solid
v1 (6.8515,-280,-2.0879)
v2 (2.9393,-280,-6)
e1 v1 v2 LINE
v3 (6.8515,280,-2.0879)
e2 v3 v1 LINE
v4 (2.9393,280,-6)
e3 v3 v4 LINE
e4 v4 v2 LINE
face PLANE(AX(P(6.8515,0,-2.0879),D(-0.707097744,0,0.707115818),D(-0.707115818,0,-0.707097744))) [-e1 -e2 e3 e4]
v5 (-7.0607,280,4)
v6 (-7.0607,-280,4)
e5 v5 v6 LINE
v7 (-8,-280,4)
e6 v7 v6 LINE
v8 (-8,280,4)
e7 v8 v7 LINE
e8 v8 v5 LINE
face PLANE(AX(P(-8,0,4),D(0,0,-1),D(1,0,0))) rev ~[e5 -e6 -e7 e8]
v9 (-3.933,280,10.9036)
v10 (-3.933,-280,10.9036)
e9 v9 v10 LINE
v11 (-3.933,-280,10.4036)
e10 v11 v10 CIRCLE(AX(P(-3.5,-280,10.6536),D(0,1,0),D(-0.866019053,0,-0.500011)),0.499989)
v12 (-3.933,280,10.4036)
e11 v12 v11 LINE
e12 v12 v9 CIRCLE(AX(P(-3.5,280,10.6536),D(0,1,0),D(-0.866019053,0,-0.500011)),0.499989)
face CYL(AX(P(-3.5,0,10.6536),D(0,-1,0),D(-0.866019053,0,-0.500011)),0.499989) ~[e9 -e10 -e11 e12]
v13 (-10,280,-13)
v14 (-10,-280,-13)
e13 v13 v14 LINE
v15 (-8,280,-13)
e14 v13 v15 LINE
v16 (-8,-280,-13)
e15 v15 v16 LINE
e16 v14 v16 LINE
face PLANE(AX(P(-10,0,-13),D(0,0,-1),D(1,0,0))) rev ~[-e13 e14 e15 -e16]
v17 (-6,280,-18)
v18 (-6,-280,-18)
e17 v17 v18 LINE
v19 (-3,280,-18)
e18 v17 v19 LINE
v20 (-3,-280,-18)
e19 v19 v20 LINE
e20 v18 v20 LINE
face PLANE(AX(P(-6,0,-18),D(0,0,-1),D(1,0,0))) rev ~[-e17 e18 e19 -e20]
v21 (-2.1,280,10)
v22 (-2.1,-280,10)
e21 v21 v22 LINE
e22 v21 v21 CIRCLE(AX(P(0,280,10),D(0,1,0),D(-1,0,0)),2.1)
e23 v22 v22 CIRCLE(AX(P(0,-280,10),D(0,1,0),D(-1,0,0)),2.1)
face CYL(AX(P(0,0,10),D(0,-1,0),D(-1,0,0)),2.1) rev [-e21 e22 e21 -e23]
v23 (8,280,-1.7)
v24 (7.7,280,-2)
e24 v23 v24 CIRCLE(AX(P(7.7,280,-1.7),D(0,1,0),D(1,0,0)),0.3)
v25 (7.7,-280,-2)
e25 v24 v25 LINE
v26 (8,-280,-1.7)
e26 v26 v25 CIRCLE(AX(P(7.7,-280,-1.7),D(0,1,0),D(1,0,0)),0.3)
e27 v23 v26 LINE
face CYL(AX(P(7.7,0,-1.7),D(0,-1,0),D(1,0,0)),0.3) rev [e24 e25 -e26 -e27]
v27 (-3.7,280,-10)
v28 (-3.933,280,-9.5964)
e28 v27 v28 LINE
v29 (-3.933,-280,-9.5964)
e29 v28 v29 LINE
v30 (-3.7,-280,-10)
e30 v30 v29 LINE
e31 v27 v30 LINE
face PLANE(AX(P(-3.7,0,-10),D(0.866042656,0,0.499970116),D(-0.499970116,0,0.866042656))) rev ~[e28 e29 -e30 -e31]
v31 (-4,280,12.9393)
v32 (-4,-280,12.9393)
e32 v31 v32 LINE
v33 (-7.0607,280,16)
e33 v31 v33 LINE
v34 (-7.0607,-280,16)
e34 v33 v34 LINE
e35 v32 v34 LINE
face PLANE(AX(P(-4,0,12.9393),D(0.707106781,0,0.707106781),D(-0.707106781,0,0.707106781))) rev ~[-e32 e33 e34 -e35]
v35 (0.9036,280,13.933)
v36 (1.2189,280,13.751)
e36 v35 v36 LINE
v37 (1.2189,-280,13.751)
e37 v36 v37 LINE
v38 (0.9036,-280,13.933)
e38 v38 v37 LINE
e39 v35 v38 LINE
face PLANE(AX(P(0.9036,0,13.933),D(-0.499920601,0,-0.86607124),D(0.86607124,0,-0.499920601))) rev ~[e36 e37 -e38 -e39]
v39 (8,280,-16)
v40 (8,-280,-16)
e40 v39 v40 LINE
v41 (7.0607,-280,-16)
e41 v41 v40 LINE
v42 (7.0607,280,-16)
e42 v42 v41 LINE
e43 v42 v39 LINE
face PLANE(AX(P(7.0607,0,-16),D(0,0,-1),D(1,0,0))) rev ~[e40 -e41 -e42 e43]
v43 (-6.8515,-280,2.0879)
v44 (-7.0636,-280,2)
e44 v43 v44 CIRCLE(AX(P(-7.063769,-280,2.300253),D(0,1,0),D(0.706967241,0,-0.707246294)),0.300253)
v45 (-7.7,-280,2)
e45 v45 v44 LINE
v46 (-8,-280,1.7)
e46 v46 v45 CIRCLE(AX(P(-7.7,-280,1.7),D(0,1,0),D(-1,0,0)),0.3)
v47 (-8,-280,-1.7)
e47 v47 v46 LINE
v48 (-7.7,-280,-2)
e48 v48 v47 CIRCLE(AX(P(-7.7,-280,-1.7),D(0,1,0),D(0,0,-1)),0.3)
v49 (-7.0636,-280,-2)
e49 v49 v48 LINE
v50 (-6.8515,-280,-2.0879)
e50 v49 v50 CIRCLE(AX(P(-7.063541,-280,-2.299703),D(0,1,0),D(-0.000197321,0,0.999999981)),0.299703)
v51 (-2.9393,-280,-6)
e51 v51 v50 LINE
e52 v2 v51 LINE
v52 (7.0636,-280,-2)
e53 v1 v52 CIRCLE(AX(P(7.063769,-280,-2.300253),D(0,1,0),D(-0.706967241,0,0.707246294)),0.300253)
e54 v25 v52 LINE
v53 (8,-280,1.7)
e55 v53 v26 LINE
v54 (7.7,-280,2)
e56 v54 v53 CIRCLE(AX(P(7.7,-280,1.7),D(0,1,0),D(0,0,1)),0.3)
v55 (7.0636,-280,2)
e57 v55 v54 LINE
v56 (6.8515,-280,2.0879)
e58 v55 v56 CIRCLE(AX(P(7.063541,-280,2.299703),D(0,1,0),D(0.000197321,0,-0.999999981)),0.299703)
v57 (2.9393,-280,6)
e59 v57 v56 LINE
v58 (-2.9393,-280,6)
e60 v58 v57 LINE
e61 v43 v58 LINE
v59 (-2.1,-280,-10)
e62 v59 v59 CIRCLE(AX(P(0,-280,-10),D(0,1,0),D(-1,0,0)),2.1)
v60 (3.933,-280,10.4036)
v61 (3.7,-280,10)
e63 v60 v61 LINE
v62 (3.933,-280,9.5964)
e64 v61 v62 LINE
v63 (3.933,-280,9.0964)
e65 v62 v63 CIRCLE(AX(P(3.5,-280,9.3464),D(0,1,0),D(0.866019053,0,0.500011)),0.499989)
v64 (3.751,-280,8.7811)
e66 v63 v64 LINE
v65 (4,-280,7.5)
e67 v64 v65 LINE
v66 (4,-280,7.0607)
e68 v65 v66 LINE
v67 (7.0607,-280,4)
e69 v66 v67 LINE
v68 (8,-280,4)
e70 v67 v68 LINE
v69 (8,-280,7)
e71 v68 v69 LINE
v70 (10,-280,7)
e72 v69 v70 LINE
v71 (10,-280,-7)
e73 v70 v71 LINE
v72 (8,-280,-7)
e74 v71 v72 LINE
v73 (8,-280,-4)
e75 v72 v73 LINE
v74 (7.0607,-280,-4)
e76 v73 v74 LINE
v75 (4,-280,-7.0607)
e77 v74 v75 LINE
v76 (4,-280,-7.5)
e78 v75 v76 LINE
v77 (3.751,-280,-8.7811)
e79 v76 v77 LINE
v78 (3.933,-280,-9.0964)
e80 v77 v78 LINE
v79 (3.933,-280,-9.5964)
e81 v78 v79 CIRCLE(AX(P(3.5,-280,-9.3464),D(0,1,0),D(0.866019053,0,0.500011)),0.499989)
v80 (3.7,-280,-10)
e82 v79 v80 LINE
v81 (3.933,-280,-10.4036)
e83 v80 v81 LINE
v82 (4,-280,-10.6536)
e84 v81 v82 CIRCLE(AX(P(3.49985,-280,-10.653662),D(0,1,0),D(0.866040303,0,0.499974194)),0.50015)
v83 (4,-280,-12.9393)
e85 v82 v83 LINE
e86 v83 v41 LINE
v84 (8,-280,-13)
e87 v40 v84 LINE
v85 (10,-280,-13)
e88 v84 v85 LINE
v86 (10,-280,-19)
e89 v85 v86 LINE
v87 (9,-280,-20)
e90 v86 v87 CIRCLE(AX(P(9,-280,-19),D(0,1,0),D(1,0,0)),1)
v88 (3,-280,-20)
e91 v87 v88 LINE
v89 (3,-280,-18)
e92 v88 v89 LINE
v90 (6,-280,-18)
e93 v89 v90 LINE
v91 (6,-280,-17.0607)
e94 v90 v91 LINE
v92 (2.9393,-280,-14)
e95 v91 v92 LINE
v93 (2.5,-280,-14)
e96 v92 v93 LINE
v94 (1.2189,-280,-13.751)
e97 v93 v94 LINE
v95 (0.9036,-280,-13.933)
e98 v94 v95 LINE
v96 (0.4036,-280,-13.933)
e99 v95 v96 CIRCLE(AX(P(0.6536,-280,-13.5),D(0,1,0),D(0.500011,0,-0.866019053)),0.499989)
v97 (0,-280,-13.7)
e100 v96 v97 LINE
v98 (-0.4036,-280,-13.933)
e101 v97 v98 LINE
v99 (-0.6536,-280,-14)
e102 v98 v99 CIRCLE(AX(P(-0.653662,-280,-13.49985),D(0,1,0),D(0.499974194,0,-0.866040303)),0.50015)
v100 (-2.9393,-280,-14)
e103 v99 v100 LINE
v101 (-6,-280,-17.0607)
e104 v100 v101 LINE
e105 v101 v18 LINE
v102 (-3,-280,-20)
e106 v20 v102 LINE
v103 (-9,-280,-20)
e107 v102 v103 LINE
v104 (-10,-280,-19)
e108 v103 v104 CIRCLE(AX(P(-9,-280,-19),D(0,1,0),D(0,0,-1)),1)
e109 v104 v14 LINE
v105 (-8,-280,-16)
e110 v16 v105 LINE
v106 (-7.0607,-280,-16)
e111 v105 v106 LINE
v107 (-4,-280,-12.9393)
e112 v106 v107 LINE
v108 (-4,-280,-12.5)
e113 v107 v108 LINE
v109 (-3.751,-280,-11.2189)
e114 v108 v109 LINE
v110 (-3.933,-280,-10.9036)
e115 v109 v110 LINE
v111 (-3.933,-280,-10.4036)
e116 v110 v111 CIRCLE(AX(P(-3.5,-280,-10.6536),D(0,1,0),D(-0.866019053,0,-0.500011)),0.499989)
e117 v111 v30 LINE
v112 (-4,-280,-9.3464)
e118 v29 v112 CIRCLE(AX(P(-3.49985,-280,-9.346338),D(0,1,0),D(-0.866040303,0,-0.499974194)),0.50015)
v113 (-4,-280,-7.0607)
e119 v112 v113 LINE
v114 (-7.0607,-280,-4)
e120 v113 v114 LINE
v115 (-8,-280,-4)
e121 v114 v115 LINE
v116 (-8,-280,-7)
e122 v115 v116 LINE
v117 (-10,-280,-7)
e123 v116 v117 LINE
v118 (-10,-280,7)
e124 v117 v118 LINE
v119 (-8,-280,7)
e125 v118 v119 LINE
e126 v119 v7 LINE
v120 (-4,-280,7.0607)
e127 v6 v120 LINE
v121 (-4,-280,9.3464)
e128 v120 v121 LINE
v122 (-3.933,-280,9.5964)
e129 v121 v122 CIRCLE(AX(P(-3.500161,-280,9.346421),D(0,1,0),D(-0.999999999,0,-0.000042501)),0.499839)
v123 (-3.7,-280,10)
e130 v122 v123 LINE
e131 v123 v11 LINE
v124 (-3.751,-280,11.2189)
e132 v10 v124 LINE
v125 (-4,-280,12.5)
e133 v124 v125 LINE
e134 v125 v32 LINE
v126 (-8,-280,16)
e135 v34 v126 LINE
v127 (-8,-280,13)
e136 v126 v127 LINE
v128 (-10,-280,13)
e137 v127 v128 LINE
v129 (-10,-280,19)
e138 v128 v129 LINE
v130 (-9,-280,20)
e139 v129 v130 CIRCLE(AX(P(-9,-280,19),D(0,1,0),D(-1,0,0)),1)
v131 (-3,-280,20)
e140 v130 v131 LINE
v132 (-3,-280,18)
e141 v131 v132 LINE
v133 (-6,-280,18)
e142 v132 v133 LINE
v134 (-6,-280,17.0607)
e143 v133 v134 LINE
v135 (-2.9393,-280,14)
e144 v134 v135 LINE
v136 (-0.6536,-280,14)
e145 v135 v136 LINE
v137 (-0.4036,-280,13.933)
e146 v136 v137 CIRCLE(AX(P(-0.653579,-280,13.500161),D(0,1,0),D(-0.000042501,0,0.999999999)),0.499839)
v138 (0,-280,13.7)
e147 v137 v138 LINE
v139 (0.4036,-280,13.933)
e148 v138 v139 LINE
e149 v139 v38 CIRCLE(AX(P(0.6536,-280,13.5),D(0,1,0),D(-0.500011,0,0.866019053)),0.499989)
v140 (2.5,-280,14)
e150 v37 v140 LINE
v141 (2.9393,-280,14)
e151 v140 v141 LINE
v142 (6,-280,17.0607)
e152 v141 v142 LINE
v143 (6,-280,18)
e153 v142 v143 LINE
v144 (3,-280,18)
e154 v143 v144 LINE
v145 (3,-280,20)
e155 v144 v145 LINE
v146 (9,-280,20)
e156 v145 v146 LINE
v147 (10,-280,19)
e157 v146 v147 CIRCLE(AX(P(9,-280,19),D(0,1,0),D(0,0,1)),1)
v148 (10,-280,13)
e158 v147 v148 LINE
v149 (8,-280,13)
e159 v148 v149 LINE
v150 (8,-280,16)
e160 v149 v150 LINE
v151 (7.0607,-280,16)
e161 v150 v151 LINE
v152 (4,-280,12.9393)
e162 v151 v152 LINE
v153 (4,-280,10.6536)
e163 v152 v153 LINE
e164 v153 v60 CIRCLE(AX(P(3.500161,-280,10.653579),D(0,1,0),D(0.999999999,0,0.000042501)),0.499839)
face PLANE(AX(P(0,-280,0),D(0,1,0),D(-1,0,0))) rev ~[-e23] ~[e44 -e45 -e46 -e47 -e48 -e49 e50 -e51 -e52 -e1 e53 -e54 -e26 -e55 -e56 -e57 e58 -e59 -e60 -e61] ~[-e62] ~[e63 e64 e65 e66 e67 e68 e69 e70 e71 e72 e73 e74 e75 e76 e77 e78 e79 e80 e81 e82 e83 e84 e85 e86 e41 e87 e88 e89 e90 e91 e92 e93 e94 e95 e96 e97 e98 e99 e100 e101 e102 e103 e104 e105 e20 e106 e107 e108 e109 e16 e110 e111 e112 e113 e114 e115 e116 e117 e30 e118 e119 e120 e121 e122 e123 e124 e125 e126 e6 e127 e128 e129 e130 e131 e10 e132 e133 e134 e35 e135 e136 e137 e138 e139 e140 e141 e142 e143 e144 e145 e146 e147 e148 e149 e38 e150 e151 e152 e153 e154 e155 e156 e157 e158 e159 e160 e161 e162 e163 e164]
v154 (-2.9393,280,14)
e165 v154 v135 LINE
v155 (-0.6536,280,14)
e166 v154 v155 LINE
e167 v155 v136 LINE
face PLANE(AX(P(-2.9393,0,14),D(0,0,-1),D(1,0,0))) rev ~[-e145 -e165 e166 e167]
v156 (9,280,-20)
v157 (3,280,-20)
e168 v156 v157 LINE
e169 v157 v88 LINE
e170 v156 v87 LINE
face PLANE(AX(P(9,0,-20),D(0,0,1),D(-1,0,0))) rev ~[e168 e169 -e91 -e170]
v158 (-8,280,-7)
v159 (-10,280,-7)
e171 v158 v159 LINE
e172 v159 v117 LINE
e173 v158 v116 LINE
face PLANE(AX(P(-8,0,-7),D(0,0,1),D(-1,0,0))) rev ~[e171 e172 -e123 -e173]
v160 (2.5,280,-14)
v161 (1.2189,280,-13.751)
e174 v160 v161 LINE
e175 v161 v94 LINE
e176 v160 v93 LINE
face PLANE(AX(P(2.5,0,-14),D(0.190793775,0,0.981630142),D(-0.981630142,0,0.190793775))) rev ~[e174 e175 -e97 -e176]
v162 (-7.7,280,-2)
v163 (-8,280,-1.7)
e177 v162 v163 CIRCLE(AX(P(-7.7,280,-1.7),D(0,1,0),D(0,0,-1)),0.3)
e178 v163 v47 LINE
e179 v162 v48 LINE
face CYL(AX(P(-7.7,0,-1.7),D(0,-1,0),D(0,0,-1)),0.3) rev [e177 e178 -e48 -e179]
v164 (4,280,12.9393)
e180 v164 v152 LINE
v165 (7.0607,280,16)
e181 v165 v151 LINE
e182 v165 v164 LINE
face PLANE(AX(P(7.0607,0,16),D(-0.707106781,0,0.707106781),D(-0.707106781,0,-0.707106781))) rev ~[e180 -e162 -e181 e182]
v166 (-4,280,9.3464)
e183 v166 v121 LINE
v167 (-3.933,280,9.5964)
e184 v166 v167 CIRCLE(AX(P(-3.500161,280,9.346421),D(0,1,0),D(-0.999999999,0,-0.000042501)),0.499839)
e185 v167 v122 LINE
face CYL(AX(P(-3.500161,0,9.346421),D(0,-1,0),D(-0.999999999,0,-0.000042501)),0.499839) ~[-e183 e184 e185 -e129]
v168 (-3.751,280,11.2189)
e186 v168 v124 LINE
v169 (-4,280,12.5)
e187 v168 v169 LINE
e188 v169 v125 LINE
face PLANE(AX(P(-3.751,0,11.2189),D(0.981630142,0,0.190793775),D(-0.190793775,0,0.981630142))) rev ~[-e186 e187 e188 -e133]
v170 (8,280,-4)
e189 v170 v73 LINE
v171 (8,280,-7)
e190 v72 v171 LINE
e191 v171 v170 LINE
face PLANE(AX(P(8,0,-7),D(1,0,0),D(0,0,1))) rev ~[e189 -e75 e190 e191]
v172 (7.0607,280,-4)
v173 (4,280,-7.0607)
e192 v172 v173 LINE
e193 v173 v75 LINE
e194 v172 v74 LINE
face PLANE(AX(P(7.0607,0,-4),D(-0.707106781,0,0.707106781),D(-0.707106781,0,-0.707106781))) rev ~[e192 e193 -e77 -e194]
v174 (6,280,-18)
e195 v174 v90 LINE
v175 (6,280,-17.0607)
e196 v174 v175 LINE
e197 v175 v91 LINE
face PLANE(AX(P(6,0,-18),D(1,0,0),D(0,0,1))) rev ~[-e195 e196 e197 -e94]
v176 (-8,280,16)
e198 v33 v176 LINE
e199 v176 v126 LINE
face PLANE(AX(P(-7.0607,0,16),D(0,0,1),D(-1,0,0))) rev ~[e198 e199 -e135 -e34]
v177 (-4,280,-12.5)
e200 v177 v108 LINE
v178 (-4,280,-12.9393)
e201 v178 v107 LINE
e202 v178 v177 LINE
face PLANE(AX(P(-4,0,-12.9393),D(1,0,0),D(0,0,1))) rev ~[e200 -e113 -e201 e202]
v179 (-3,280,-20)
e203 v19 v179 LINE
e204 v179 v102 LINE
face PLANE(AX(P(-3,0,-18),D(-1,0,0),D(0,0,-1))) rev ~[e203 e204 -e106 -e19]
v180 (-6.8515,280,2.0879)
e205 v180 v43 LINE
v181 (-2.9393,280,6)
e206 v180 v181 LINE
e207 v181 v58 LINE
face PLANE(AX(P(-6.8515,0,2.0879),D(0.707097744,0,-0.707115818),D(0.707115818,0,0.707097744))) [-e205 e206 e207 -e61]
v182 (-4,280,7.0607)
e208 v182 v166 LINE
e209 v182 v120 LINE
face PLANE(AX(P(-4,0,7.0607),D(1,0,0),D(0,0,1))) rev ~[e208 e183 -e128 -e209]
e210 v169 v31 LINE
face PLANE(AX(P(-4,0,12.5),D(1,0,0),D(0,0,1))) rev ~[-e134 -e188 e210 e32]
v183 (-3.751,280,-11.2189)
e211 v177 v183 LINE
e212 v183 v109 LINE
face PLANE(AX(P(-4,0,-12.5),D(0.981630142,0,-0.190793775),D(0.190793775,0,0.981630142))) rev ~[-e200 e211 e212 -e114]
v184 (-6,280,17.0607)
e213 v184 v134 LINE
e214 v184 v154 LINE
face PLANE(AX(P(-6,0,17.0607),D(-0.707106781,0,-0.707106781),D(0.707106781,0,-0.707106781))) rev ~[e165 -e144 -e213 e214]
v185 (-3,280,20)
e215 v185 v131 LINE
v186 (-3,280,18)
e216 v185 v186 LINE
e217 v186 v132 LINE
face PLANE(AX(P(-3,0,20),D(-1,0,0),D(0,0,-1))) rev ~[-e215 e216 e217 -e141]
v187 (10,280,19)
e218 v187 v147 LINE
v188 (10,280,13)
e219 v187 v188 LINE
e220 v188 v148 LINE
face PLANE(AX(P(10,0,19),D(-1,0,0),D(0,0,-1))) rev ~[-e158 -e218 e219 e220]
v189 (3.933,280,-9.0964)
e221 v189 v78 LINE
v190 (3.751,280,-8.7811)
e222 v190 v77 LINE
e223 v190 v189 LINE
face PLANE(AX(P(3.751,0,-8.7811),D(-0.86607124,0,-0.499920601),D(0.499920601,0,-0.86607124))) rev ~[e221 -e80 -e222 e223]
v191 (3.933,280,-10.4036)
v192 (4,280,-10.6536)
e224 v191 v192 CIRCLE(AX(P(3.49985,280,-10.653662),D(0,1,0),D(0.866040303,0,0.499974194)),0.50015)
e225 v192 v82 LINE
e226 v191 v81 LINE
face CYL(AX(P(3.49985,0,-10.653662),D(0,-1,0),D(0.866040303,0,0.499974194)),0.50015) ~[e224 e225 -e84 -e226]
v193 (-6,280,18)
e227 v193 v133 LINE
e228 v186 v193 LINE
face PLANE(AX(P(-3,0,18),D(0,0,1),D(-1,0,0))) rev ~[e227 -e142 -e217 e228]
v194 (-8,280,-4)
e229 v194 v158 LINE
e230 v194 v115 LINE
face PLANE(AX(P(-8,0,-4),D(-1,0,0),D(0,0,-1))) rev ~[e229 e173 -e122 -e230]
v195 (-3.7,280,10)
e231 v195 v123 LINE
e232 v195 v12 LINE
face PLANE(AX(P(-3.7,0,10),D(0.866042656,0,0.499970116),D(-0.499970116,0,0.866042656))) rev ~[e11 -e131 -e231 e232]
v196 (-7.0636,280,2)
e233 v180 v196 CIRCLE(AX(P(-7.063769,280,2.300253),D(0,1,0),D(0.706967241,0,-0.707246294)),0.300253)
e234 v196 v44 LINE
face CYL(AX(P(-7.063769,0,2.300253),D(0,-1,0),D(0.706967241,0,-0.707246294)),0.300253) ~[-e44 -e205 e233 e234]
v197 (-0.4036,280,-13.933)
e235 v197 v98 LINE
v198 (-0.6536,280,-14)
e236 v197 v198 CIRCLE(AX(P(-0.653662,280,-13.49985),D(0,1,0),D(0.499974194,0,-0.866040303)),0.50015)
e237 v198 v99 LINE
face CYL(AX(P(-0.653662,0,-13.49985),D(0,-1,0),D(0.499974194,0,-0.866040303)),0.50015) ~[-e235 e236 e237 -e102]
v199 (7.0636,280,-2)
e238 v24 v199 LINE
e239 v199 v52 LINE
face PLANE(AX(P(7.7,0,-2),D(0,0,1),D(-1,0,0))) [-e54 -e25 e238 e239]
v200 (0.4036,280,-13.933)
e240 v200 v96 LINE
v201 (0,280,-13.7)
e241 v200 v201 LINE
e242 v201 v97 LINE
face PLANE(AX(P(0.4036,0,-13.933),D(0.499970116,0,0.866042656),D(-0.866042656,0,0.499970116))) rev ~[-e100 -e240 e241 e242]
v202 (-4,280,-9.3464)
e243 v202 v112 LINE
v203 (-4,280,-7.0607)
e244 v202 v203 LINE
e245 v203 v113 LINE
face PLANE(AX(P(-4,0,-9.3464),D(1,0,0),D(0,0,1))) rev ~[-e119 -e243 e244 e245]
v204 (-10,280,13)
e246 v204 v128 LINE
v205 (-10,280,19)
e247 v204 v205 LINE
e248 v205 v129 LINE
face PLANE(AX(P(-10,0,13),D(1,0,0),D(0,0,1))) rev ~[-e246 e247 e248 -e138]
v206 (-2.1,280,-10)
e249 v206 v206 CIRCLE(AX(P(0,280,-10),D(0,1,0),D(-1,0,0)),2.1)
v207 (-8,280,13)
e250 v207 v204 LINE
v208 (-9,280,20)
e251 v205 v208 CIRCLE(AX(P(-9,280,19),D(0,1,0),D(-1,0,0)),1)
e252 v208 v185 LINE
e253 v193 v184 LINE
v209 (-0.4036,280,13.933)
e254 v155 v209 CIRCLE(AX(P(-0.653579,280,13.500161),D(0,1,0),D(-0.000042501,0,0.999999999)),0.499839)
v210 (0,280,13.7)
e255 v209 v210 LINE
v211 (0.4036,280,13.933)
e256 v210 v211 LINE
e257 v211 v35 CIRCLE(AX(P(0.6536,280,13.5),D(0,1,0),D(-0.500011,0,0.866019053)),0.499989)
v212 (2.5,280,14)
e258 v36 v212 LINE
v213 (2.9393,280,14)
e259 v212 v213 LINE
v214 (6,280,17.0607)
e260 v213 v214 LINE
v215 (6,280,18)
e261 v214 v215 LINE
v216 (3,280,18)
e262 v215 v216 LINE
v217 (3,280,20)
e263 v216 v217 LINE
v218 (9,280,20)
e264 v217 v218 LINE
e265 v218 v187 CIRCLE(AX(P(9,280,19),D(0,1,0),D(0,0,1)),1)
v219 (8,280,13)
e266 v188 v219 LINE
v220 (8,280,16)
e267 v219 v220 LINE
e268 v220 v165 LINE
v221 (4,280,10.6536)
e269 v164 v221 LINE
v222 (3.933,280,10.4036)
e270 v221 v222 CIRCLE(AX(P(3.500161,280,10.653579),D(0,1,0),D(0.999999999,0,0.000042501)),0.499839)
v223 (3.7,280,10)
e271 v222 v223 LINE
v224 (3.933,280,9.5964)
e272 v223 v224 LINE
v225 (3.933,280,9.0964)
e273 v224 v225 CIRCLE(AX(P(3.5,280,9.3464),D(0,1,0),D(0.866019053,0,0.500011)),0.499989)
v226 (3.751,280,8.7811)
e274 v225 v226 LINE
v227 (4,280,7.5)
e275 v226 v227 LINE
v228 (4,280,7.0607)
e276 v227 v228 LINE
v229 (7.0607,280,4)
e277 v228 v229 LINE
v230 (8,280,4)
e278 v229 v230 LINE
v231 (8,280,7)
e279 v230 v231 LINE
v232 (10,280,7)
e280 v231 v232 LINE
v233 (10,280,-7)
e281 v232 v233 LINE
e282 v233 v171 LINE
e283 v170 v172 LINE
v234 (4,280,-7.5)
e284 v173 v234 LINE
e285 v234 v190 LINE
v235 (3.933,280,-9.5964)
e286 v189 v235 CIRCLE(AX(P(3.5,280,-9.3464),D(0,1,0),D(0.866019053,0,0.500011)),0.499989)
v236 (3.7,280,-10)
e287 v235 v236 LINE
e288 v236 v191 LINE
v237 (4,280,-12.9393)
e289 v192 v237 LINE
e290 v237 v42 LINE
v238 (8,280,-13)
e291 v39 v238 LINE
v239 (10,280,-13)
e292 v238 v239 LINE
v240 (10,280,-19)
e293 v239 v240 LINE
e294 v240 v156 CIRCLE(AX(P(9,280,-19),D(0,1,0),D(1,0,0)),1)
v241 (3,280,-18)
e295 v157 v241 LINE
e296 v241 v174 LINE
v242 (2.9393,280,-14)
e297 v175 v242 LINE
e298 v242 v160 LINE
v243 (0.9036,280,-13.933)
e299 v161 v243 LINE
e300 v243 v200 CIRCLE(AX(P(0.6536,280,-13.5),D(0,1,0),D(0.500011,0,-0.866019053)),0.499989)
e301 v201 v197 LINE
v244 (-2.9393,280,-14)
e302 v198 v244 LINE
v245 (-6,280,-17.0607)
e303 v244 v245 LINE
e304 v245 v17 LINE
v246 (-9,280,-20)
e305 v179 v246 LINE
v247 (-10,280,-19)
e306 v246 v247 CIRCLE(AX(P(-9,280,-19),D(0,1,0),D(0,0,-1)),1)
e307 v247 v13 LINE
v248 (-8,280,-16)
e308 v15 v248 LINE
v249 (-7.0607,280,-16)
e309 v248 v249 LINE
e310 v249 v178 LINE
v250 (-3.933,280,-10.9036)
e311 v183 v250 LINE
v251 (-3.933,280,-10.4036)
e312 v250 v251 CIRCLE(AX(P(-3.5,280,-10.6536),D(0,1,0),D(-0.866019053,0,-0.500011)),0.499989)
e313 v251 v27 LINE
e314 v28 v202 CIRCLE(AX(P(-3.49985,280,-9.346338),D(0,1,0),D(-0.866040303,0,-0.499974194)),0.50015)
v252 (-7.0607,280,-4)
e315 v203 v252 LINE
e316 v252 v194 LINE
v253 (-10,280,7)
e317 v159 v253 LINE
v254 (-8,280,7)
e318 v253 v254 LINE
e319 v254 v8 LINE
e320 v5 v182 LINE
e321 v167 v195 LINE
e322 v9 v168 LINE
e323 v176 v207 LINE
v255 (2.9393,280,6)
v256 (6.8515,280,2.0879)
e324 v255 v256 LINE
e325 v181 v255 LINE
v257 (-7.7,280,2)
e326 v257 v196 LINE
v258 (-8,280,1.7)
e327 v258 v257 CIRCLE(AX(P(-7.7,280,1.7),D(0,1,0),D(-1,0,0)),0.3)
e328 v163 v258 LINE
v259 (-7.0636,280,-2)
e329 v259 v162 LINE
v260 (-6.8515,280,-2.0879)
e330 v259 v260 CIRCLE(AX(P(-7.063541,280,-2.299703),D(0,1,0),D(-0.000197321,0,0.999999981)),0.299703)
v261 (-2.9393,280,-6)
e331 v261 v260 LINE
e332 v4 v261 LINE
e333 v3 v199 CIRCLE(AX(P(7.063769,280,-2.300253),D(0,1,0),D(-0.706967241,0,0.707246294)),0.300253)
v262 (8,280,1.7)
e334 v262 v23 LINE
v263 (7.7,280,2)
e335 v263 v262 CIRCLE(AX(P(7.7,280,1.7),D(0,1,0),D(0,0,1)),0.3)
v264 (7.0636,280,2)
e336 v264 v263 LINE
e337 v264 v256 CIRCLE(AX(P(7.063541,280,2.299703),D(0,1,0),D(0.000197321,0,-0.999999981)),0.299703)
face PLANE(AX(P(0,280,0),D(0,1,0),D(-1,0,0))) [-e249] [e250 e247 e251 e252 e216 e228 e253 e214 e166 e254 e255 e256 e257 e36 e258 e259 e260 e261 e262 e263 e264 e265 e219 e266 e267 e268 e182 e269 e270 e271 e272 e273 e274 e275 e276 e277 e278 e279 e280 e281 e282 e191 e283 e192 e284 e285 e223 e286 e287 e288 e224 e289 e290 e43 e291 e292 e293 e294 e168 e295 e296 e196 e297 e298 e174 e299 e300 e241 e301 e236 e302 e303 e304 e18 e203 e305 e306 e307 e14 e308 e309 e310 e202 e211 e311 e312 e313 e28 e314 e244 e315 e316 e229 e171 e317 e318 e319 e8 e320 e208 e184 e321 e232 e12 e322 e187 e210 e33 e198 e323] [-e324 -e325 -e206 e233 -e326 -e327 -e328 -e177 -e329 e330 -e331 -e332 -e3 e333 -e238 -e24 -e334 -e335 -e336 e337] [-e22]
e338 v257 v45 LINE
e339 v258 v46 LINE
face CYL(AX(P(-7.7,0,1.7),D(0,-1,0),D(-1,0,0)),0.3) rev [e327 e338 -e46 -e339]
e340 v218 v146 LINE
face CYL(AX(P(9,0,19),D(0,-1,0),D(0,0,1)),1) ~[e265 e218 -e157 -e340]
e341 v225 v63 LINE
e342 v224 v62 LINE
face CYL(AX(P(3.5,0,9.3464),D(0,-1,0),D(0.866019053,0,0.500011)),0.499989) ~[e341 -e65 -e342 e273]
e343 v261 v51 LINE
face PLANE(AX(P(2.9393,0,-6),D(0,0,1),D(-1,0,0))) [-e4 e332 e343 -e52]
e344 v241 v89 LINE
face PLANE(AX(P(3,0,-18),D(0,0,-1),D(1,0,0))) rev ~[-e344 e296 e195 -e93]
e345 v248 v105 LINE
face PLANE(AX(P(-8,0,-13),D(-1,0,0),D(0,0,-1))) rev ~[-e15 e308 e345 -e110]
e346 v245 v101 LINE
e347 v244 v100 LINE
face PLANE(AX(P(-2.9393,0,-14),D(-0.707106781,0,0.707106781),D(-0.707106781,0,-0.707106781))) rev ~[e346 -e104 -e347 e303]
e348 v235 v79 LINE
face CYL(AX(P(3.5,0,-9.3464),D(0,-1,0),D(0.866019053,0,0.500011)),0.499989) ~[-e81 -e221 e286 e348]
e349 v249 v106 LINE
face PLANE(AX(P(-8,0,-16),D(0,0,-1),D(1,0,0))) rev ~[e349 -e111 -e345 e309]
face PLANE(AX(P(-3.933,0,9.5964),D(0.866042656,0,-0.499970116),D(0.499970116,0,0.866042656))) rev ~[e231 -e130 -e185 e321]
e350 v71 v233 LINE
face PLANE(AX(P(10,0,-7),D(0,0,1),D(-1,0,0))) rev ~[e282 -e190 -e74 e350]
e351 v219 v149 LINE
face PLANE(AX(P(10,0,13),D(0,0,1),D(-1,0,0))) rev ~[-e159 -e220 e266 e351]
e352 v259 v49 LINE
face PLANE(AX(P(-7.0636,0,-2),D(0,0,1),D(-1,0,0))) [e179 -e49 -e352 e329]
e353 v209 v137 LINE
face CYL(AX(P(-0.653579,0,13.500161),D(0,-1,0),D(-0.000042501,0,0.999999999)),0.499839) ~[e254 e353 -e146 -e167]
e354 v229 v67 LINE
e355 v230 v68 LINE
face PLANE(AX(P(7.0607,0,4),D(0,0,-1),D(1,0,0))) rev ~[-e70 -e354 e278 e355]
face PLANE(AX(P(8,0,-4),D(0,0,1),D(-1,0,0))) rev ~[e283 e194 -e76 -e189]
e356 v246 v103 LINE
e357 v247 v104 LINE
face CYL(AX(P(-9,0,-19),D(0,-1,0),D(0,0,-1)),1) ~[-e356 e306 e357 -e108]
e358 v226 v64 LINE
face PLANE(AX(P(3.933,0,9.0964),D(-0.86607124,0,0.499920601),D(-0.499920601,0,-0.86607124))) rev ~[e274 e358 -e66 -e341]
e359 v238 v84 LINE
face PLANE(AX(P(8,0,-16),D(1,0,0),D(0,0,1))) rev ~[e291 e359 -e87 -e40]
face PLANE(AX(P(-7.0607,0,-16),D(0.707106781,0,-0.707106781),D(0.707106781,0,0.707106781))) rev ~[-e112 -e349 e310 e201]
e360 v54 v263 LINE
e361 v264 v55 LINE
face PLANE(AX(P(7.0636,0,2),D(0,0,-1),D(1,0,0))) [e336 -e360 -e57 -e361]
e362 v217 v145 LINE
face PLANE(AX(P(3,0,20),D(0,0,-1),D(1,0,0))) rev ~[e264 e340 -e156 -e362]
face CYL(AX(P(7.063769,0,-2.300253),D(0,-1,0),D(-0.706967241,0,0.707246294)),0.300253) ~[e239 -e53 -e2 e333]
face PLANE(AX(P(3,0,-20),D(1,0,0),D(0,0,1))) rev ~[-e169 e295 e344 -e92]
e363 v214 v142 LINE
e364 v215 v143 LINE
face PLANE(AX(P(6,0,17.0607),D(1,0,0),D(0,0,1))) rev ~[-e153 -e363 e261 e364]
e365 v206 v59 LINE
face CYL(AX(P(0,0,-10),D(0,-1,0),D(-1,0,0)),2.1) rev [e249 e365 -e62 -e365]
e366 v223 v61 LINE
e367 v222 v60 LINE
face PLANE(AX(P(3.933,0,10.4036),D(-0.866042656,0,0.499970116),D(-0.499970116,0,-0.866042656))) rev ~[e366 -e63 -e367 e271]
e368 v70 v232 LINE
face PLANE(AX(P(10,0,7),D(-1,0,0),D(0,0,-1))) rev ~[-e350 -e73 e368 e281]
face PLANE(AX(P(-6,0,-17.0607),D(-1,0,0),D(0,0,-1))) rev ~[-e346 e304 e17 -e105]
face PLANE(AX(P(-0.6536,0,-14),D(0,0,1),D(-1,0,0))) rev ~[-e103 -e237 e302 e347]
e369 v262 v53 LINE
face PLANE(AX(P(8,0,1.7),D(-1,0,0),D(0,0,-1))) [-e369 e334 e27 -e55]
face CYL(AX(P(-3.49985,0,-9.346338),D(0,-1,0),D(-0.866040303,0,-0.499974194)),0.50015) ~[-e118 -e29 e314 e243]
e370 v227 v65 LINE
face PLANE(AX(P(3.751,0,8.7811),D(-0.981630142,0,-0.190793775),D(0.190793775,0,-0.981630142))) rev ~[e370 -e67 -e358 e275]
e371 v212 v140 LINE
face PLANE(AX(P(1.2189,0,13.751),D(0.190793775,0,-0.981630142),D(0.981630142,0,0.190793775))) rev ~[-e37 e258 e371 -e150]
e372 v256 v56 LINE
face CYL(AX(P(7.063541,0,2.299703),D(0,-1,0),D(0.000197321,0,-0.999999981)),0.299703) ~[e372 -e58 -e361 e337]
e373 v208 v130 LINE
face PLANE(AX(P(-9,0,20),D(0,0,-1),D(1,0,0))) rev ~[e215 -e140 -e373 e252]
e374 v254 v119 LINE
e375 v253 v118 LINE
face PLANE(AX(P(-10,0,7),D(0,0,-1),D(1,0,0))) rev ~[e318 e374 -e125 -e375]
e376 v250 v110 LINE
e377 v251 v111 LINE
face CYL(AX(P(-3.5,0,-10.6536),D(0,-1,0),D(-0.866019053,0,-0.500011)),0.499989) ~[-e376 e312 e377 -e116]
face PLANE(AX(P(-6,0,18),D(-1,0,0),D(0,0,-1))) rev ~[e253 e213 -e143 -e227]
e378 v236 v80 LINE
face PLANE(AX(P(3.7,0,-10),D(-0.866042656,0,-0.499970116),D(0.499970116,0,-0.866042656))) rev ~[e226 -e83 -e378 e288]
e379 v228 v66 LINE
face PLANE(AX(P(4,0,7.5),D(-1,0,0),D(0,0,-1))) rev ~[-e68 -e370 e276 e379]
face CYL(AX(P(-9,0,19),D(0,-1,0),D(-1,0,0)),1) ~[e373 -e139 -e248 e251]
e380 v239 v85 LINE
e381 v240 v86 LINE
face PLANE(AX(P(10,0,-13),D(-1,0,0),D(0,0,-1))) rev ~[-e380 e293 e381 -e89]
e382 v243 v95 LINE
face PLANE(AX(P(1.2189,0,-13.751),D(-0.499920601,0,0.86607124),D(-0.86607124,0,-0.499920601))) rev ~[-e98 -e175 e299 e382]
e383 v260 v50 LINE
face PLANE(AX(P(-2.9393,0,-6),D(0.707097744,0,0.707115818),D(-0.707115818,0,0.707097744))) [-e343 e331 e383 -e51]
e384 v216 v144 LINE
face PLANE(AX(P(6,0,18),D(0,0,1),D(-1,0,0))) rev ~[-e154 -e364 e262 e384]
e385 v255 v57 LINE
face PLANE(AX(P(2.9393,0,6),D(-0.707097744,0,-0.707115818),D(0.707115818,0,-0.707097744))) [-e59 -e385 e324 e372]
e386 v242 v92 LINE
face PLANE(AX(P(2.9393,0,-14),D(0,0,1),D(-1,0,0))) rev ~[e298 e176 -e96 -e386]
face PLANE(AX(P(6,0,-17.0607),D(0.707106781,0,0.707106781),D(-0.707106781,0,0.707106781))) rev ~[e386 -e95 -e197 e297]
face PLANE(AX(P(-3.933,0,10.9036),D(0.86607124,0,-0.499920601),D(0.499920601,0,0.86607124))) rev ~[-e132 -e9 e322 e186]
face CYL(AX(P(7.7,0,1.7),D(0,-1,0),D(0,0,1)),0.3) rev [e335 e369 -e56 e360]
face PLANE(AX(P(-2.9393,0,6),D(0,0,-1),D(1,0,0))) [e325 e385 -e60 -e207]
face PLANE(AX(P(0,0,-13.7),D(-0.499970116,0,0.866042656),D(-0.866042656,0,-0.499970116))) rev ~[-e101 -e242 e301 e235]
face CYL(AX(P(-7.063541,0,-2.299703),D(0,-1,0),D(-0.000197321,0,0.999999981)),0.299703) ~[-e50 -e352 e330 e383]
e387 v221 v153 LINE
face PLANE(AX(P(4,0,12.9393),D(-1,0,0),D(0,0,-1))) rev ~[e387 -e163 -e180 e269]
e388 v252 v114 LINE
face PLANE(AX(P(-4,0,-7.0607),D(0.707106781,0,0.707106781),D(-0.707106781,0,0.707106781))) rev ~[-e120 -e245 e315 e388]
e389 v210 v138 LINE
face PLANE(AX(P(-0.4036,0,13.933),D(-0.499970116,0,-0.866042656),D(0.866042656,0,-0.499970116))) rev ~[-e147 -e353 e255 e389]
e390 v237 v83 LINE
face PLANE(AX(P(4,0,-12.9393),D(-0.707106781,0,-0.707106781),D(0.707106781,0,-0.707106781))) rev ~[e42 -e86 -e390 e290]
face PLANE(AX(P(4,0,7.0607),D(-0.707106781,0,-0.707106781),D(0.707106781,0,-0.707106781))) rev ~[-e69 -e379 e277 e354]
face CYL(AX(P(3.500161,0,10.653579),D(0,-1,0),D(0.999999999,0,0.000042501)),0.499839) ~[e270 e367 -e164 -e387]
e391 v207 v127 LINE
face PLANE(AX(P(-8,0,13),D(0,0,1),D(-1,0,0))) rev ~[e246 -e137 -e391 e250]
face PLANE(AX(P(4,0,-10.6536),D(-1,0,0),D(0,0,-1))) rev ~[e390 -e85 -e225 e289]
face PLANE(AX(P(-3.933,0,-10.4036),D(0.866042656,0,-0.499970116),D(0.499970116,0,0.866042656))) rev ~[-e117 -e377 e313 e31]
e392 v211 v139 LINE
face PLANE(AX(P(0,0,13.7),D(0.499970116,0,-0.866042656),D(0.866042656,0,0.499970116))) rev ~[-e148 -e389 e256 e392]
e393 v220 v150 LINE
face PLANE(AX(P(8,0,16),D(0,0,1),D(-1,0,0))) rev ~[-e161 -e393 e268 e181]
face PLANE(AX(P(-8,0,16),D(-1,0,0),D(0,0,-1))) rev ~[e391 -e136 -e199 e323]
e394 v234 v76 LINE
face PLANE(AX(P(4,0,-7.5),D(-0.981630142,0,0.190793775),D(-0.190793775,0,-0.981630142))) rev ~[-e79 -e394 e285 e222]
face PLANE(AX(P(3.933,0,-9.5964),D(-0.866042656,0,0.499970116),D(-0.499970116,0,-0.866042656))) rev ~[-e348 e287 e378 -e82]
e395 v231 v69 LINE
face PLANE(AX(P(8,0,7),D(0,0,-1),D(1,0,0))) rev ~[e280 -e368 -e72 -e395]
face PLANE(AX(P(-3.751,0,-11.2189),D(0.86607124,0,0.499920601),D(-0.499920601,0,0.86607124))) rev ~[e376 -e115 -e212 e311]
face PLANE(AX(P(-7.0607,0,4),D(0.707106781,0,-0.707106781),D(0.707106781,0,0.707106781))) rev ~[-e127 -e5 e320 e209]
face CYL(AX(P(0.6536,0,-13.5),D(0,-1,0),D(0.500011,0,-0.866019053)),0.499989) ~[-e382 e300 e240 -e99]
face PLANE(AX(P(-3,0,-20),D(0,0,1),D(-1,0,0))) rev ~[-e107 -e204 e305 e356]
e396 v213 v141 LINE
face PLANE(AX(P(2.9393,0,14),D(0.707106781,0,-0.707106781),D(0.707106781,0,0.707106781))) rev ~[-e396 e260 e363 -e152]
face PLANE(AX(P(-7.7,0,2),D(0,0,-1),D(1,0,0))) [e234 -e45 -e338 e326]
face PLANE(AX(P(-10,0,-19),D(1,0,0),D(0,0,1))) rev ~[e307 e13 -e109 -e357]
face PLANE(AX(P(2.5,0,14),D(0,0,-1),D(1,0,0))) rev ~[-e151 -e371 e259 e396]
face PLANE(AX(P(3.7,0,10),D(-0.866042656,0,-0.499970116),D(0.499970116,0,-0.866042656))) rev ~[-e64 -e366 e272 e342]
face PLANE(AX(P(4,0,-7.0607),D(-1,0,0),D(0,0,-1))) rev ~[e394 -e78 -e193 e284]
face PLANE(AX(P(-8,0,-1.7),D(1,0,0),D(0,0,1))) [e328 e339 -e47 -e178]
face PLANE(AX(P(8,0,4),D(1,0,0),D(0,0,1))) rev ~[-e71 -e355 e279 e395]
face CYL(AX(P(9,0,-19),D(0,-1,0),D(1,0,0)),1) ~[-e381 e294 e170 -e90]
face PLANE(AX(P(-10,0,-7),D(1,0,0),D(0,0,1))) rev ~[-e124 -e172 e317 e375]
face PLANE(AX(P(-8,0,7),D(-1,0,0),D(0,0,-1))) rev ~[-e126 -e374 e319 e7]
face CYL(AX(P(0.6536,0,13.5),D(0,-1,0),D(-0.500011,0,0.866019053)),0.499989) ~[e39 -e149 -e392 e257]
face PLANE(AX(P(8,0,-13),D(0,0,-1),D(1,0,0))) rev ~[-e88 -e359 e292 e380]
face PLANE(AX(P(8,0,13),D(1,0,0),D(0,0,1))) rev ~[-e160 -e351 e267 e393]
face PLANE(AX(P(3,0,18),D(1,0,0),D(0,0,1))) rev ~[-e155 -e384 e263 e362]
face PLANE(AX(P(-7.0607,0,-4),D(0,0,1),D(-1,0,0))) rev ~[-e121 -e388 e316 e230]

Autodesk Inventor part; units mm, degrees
ref_plane "YZ Plane" through (0, 0, 0) normal (1, 0, 0) x (0, 1, 0)
ref_plane "XZ Plane" through (0, 0, 0) normal (0, 1, 0) x (-1, 0, 0)
ref_plane "XY Plane" through (0, 0, 0) normal (0, 0, 1) x (1, 0, 0)
sketch "Sketch1" plane through (0, 0, 0) normal (0, 1, 0) x (-1, 0, 0)
  line L0 (-10, 7) -> (-10, -7)
  line L1 (-10, -7) -> (-8, -7)
  line L2 (-8, -7) -> (-8, -4)
  line L3 (-8, -4) -> (-7.0607, -4)
  line L4 (-7.0607, -4) -> (-4, -7.0607)
  line L5 (-4, -7.0607) -> (-4, -7.5)
  line L6 (-4, -7.5) -> (-3.751, -8.7811)
  line L7 (-3.751, -8.7811) -> (-3.933, -9.0964)
  arc A0 (-3.933, -9.0964) -> (-3.933, -9.5964) centre (-3.5, -9.3464) ccw
  line L8 (-3.933, -9.5964) -> (-3.7, -10)
  line L9 (-3.7, -10) -> (-3.933, -10.4036)
  arc A1 (-3.933, -10.4036) -> (-4, -10.6536) centre (-3.5, -10.6536) ccw
  line L10 (-4, -10.6536) -> (-4, -12.9393)
  line L11 (-4, -12.9393) -> (-7.0607, -16)
  line L12 (-7.0607, -16) -> (-8, -16)
  line L13 (-8, -16) -> (-8, -13)
  line L14 (-8, -13) -> (-10, -13)
  line L15 (-10, -13) -> (-10, -19)
  arc A2 (-10, -19) -> (-9, -20) centre (-9, -19) ccw
  line L16 (-9, -20) -> (-3, -20)
  line L17 (-3, -20) -> (-3, -18)
  line L18 (-3, -18) -> (-6, -18)
  line L19 (-6, -18) -> (-6, -17.0607)
  line L20 (-6, -17.0607) -> (-2.9393, -14)
  line L21 (-2.9393, -14) -> (-2.5, -14)
  line L22 (-2.5, -14) -> (-1.2189, -13.751)
  line L23 (-1.2189, -13.751) -> (-0.9036, -13.933)
  arc A3 (-0.9036, -13.933) -> (-0.4036, -13.933) centre (-0.6536, -13.5) ccw
  line L24 (-0.4036, -13.933) -> (0, -13.7)
  line L25 (0, -13.7) -> (0.4036, -13.933)
  arc A4 (0.4036, -13.933) -> (0.6536, -14) centre (0.6536, -13.5) ccw
  line L26 (0.6536, -14) -> (2.9393, -14)
  line L27 (2.9393, -14) -> (6, -17.0607)
  line L28 (6, -17.0607) -> (6, -18)
  line L29 (6, -18) -> (3, -18)
  line L30 (3, -18) -> (3, -20)
  line L31 (3, -20) -> (9, -20)
  arc A5 (9, -20) -> (10, -19) centre (9, -19) ccw
  line L32 (10, -19) -> (10, -13)
  line L33 (10, -13) -> (8, -13)
  line L34 (8, -13) -> (8, -16)
  line L35 (8, -16) -> (7.0607, -16)
  line L36 (7.0607, -16) -> (4, -12.9393)
  line L37 (4, -12.9393) -> (4, -12.5)
  line L38 (4, -12.5) -> (3.751, -11.2189)
  line L39 (3.751, -11.2189) -> (3.933, -10.9036)
  arc A6 (3.933, -10.9036) -> (3.933, -10.4036) centre (3.5, -10.6536) ccw
  line L40 (3.933, -10.4036) -> (3.7, -10)
  line L41 (3.7, -10) -> (3.933, -9.5964)
  arc A7 (3.933, -9.5964) -> (4, -9.3464) centre (3.5, -9.3464) ccw
  line L42 (4, -9.3464) -> (4, -7.0607)
  line L43 (4, -7.0607) -> (7.0607, -4)
  line L44 (7.0607, -4) -> (8, -4)
  line L45 (8, -4) -> (8, -7)
  line L46 (8, -7) -> (10, -7)
  line L47 (10, -7) -> (10, 7)
  line L48 (10, 7) -> (8, 7)
  line L49 (8, 7) -> (8, 4)
  line L50 (8, 4) -> (7.0607, 4)
  line L51 (7.0607, 4) -> (4, 7.0607)
  line L52 (4, 7.0607) -> (4, 9.3464)
  arc A8 (4, 9.3464) -> (3.933, 9.5964) centre (3.5, 9.3464) ccw
  line L53 (3.933, 9.5964) -> (3.7, 10)
  line L54 (3.7, 10) -> (3.933, 10.4036)
  arc A9 (3.933, 10.4036) -> (3.933, 10.9036) centre (3.5, 10.6536) ccw
  line L55 (3.933, 10.9036) -> (3.751, 11.2189)
  line L56 (3.751, 11.2189) -> (4, 12.5)
  line L57 (4, 12.5) -> (4, 12.9393)
  line L58 (4, 12.9393) -> (7.0607, 16)
  line L59 (7.0607, 16) -> (8, 16)
  line L60 (8, 16) -> (8, 13)
  line L61 (8, 13) -> (10, 13)
  line L62 (10, 13) -> (10, 19)
  arc A10 (10, 19) -> (9, 20) centre (9, 19) ccw
  line L63 (9, 20) -> (3, 20)
  line L64 (3, 20) -> (3, 18)
  line L65 (3, 18) -> (6, 18)
  line L66 (6, 18) -> (6, 17.0607)
  line L67 (6, 17.0607) -> (2.9393, 14)
  line L68 (2.9393, 14) -> (0.6536, 14)
  arc A11 (0.6536, 14) -> (0.4036, 13.933) centre (0.6536, 13.5) ccw
  line L69 (0.4036, 13.933) -> (0, 13.7)
  line L70 (0, 13.7) -> (-0.4036, 13.933)
  arc A12 (-0.4036, 13.933) -> (-0.9036, 13.933) centre (-0.6536, 13.5) ccw
  line L71 (-0.9036, 13.933) -> (-1.2189, 13.751)
  line L72 (-1.2189, 13.751) -> (-2.5, 14)
  line L73 (-2.5, 14) -> (-2.9393, 14)
  line L74 (-2.9393, 14) -> (-6, 17.0607)
  line L75 (-6, 17.0607) -> (-6, 18)
  line L76 (-6, 18) -> (-3, 18)
  line L77 (-3, 18) -> (-3, 20)
  line L78 (-3, 20) -> (-9, 20)
  arc A13 (-9, 20) -> (-10, 19) centre (-9, 19) ccw
  line L79 (-10, 19) -> (-10, 13)
  line L80 (-10, 13) -> (-8, 13)
  line L81 (-8, 13) -> (-8, 16)
  line L82 (-8, 16) -> (-7.0607, 16)
  line L83 (-7.0607, 16) -> (-4, 12.9393)
  line L84 (-4, 12.9393) -> (-4, 10.6536)
  arc A14 (-4, 10.6536) -> (-3.933, 10.4036) centre (-3.5, 10.6536) ccw
  line L85 (-3.933, 10.4036) -> (-3.7, 10)
  line L86 (-3.7, 10) -> (-3.933, 9.5964)
  arc A15 (-3.933, 9.5964) -> (-3.933, 9.0964) centre (-3.5, 9.3464) ccw
  line L87 (-3.933, 9.0964) -> (-3.751, 8.7811)
  line L88 (-3.751, 8.7811) -> (-4, 7.5)
  line L89 (-4, 7.5) -> (-4, 7.0607)
  line L90 (-4, 7.0607) -> (-7.0607, 4)
  line L91 (-7.0607, 4) -> (-8, 4)
  line L92 (-8, 4) -> (-8, 7)
  arc A16 (-7.7, 2) -> (-8, 1.7) centre (-7.7, 1.7) ccw
  line L93 (-7.0636, 2) -> (-7.7, 2)
  arc A17 (-7.0636, 2) -> (-6.8515, 2.0879) centre (-7.0636, 2.3) ccw
  line L94 (-2.9393, 6) -> (-6.8515, 2.0879)
  line L95 (2.9393, 6) -> (-2.9393, 6)
  line L96 (6.8515, 2.0879) -> (2.9393, 6)
  arc A18 (6.8515, 2.0879) -> (7.0636, 2) centre (7.0636, 2.3) ccw
  line L97 (7.7, 2) -> (7.0636, 2)
  arc A19 (8, 1.7) -> (7.7, 2) centre (7.7, 1.7) ccw
  line L98 (8, -1.7) -> (8, 1.7)
  arc A20 (7.7, -2) -> (8, -1.7) centre (7.7, -1.7) ccw
  line L99 (7.0636, -2) -> (7.7, -2)
  arc A21 (7.0636, -2) -> (6.8515, -2.0879) centre (7.0636, -2.3) ccw
  line L100 (2.9393, -6) -> (6.8515, -2.0879)
  line L101 (-2.9393, -6) -> (2.9393, -6)
  line L102 (-6.8515, -2.0879) -> (-2.9393, -6)
  arc A22 (-6.8515, -2.0879) -> (-7.0636, -2) centre (-7.0636, -2.3) ccw
  line L103 (-7.7, -2) -> (-7.0636, -2)
  arc A23 (-8, -1.7) -> (-7.7, -2) centre (-7.7, -1.7) ccw
  line L104 (-8, 1.7) -> (-8, -1.7)
  line L105 (-8, 7) -> (-10, 7)
  circle A24 centre (0, 10) radius 2.1
  circle A25 centre (0, -10) radius 2.1
  line L106 (0, -10) -> (0, 10) construction
  point P0 (0, 0)
  point P1 (0, 0)
extrude "Extrusion1" add sketch "Sketch1" along normal mid plane 560
properties part number "HFS5-2040-400" material "Aluminum 6061"
